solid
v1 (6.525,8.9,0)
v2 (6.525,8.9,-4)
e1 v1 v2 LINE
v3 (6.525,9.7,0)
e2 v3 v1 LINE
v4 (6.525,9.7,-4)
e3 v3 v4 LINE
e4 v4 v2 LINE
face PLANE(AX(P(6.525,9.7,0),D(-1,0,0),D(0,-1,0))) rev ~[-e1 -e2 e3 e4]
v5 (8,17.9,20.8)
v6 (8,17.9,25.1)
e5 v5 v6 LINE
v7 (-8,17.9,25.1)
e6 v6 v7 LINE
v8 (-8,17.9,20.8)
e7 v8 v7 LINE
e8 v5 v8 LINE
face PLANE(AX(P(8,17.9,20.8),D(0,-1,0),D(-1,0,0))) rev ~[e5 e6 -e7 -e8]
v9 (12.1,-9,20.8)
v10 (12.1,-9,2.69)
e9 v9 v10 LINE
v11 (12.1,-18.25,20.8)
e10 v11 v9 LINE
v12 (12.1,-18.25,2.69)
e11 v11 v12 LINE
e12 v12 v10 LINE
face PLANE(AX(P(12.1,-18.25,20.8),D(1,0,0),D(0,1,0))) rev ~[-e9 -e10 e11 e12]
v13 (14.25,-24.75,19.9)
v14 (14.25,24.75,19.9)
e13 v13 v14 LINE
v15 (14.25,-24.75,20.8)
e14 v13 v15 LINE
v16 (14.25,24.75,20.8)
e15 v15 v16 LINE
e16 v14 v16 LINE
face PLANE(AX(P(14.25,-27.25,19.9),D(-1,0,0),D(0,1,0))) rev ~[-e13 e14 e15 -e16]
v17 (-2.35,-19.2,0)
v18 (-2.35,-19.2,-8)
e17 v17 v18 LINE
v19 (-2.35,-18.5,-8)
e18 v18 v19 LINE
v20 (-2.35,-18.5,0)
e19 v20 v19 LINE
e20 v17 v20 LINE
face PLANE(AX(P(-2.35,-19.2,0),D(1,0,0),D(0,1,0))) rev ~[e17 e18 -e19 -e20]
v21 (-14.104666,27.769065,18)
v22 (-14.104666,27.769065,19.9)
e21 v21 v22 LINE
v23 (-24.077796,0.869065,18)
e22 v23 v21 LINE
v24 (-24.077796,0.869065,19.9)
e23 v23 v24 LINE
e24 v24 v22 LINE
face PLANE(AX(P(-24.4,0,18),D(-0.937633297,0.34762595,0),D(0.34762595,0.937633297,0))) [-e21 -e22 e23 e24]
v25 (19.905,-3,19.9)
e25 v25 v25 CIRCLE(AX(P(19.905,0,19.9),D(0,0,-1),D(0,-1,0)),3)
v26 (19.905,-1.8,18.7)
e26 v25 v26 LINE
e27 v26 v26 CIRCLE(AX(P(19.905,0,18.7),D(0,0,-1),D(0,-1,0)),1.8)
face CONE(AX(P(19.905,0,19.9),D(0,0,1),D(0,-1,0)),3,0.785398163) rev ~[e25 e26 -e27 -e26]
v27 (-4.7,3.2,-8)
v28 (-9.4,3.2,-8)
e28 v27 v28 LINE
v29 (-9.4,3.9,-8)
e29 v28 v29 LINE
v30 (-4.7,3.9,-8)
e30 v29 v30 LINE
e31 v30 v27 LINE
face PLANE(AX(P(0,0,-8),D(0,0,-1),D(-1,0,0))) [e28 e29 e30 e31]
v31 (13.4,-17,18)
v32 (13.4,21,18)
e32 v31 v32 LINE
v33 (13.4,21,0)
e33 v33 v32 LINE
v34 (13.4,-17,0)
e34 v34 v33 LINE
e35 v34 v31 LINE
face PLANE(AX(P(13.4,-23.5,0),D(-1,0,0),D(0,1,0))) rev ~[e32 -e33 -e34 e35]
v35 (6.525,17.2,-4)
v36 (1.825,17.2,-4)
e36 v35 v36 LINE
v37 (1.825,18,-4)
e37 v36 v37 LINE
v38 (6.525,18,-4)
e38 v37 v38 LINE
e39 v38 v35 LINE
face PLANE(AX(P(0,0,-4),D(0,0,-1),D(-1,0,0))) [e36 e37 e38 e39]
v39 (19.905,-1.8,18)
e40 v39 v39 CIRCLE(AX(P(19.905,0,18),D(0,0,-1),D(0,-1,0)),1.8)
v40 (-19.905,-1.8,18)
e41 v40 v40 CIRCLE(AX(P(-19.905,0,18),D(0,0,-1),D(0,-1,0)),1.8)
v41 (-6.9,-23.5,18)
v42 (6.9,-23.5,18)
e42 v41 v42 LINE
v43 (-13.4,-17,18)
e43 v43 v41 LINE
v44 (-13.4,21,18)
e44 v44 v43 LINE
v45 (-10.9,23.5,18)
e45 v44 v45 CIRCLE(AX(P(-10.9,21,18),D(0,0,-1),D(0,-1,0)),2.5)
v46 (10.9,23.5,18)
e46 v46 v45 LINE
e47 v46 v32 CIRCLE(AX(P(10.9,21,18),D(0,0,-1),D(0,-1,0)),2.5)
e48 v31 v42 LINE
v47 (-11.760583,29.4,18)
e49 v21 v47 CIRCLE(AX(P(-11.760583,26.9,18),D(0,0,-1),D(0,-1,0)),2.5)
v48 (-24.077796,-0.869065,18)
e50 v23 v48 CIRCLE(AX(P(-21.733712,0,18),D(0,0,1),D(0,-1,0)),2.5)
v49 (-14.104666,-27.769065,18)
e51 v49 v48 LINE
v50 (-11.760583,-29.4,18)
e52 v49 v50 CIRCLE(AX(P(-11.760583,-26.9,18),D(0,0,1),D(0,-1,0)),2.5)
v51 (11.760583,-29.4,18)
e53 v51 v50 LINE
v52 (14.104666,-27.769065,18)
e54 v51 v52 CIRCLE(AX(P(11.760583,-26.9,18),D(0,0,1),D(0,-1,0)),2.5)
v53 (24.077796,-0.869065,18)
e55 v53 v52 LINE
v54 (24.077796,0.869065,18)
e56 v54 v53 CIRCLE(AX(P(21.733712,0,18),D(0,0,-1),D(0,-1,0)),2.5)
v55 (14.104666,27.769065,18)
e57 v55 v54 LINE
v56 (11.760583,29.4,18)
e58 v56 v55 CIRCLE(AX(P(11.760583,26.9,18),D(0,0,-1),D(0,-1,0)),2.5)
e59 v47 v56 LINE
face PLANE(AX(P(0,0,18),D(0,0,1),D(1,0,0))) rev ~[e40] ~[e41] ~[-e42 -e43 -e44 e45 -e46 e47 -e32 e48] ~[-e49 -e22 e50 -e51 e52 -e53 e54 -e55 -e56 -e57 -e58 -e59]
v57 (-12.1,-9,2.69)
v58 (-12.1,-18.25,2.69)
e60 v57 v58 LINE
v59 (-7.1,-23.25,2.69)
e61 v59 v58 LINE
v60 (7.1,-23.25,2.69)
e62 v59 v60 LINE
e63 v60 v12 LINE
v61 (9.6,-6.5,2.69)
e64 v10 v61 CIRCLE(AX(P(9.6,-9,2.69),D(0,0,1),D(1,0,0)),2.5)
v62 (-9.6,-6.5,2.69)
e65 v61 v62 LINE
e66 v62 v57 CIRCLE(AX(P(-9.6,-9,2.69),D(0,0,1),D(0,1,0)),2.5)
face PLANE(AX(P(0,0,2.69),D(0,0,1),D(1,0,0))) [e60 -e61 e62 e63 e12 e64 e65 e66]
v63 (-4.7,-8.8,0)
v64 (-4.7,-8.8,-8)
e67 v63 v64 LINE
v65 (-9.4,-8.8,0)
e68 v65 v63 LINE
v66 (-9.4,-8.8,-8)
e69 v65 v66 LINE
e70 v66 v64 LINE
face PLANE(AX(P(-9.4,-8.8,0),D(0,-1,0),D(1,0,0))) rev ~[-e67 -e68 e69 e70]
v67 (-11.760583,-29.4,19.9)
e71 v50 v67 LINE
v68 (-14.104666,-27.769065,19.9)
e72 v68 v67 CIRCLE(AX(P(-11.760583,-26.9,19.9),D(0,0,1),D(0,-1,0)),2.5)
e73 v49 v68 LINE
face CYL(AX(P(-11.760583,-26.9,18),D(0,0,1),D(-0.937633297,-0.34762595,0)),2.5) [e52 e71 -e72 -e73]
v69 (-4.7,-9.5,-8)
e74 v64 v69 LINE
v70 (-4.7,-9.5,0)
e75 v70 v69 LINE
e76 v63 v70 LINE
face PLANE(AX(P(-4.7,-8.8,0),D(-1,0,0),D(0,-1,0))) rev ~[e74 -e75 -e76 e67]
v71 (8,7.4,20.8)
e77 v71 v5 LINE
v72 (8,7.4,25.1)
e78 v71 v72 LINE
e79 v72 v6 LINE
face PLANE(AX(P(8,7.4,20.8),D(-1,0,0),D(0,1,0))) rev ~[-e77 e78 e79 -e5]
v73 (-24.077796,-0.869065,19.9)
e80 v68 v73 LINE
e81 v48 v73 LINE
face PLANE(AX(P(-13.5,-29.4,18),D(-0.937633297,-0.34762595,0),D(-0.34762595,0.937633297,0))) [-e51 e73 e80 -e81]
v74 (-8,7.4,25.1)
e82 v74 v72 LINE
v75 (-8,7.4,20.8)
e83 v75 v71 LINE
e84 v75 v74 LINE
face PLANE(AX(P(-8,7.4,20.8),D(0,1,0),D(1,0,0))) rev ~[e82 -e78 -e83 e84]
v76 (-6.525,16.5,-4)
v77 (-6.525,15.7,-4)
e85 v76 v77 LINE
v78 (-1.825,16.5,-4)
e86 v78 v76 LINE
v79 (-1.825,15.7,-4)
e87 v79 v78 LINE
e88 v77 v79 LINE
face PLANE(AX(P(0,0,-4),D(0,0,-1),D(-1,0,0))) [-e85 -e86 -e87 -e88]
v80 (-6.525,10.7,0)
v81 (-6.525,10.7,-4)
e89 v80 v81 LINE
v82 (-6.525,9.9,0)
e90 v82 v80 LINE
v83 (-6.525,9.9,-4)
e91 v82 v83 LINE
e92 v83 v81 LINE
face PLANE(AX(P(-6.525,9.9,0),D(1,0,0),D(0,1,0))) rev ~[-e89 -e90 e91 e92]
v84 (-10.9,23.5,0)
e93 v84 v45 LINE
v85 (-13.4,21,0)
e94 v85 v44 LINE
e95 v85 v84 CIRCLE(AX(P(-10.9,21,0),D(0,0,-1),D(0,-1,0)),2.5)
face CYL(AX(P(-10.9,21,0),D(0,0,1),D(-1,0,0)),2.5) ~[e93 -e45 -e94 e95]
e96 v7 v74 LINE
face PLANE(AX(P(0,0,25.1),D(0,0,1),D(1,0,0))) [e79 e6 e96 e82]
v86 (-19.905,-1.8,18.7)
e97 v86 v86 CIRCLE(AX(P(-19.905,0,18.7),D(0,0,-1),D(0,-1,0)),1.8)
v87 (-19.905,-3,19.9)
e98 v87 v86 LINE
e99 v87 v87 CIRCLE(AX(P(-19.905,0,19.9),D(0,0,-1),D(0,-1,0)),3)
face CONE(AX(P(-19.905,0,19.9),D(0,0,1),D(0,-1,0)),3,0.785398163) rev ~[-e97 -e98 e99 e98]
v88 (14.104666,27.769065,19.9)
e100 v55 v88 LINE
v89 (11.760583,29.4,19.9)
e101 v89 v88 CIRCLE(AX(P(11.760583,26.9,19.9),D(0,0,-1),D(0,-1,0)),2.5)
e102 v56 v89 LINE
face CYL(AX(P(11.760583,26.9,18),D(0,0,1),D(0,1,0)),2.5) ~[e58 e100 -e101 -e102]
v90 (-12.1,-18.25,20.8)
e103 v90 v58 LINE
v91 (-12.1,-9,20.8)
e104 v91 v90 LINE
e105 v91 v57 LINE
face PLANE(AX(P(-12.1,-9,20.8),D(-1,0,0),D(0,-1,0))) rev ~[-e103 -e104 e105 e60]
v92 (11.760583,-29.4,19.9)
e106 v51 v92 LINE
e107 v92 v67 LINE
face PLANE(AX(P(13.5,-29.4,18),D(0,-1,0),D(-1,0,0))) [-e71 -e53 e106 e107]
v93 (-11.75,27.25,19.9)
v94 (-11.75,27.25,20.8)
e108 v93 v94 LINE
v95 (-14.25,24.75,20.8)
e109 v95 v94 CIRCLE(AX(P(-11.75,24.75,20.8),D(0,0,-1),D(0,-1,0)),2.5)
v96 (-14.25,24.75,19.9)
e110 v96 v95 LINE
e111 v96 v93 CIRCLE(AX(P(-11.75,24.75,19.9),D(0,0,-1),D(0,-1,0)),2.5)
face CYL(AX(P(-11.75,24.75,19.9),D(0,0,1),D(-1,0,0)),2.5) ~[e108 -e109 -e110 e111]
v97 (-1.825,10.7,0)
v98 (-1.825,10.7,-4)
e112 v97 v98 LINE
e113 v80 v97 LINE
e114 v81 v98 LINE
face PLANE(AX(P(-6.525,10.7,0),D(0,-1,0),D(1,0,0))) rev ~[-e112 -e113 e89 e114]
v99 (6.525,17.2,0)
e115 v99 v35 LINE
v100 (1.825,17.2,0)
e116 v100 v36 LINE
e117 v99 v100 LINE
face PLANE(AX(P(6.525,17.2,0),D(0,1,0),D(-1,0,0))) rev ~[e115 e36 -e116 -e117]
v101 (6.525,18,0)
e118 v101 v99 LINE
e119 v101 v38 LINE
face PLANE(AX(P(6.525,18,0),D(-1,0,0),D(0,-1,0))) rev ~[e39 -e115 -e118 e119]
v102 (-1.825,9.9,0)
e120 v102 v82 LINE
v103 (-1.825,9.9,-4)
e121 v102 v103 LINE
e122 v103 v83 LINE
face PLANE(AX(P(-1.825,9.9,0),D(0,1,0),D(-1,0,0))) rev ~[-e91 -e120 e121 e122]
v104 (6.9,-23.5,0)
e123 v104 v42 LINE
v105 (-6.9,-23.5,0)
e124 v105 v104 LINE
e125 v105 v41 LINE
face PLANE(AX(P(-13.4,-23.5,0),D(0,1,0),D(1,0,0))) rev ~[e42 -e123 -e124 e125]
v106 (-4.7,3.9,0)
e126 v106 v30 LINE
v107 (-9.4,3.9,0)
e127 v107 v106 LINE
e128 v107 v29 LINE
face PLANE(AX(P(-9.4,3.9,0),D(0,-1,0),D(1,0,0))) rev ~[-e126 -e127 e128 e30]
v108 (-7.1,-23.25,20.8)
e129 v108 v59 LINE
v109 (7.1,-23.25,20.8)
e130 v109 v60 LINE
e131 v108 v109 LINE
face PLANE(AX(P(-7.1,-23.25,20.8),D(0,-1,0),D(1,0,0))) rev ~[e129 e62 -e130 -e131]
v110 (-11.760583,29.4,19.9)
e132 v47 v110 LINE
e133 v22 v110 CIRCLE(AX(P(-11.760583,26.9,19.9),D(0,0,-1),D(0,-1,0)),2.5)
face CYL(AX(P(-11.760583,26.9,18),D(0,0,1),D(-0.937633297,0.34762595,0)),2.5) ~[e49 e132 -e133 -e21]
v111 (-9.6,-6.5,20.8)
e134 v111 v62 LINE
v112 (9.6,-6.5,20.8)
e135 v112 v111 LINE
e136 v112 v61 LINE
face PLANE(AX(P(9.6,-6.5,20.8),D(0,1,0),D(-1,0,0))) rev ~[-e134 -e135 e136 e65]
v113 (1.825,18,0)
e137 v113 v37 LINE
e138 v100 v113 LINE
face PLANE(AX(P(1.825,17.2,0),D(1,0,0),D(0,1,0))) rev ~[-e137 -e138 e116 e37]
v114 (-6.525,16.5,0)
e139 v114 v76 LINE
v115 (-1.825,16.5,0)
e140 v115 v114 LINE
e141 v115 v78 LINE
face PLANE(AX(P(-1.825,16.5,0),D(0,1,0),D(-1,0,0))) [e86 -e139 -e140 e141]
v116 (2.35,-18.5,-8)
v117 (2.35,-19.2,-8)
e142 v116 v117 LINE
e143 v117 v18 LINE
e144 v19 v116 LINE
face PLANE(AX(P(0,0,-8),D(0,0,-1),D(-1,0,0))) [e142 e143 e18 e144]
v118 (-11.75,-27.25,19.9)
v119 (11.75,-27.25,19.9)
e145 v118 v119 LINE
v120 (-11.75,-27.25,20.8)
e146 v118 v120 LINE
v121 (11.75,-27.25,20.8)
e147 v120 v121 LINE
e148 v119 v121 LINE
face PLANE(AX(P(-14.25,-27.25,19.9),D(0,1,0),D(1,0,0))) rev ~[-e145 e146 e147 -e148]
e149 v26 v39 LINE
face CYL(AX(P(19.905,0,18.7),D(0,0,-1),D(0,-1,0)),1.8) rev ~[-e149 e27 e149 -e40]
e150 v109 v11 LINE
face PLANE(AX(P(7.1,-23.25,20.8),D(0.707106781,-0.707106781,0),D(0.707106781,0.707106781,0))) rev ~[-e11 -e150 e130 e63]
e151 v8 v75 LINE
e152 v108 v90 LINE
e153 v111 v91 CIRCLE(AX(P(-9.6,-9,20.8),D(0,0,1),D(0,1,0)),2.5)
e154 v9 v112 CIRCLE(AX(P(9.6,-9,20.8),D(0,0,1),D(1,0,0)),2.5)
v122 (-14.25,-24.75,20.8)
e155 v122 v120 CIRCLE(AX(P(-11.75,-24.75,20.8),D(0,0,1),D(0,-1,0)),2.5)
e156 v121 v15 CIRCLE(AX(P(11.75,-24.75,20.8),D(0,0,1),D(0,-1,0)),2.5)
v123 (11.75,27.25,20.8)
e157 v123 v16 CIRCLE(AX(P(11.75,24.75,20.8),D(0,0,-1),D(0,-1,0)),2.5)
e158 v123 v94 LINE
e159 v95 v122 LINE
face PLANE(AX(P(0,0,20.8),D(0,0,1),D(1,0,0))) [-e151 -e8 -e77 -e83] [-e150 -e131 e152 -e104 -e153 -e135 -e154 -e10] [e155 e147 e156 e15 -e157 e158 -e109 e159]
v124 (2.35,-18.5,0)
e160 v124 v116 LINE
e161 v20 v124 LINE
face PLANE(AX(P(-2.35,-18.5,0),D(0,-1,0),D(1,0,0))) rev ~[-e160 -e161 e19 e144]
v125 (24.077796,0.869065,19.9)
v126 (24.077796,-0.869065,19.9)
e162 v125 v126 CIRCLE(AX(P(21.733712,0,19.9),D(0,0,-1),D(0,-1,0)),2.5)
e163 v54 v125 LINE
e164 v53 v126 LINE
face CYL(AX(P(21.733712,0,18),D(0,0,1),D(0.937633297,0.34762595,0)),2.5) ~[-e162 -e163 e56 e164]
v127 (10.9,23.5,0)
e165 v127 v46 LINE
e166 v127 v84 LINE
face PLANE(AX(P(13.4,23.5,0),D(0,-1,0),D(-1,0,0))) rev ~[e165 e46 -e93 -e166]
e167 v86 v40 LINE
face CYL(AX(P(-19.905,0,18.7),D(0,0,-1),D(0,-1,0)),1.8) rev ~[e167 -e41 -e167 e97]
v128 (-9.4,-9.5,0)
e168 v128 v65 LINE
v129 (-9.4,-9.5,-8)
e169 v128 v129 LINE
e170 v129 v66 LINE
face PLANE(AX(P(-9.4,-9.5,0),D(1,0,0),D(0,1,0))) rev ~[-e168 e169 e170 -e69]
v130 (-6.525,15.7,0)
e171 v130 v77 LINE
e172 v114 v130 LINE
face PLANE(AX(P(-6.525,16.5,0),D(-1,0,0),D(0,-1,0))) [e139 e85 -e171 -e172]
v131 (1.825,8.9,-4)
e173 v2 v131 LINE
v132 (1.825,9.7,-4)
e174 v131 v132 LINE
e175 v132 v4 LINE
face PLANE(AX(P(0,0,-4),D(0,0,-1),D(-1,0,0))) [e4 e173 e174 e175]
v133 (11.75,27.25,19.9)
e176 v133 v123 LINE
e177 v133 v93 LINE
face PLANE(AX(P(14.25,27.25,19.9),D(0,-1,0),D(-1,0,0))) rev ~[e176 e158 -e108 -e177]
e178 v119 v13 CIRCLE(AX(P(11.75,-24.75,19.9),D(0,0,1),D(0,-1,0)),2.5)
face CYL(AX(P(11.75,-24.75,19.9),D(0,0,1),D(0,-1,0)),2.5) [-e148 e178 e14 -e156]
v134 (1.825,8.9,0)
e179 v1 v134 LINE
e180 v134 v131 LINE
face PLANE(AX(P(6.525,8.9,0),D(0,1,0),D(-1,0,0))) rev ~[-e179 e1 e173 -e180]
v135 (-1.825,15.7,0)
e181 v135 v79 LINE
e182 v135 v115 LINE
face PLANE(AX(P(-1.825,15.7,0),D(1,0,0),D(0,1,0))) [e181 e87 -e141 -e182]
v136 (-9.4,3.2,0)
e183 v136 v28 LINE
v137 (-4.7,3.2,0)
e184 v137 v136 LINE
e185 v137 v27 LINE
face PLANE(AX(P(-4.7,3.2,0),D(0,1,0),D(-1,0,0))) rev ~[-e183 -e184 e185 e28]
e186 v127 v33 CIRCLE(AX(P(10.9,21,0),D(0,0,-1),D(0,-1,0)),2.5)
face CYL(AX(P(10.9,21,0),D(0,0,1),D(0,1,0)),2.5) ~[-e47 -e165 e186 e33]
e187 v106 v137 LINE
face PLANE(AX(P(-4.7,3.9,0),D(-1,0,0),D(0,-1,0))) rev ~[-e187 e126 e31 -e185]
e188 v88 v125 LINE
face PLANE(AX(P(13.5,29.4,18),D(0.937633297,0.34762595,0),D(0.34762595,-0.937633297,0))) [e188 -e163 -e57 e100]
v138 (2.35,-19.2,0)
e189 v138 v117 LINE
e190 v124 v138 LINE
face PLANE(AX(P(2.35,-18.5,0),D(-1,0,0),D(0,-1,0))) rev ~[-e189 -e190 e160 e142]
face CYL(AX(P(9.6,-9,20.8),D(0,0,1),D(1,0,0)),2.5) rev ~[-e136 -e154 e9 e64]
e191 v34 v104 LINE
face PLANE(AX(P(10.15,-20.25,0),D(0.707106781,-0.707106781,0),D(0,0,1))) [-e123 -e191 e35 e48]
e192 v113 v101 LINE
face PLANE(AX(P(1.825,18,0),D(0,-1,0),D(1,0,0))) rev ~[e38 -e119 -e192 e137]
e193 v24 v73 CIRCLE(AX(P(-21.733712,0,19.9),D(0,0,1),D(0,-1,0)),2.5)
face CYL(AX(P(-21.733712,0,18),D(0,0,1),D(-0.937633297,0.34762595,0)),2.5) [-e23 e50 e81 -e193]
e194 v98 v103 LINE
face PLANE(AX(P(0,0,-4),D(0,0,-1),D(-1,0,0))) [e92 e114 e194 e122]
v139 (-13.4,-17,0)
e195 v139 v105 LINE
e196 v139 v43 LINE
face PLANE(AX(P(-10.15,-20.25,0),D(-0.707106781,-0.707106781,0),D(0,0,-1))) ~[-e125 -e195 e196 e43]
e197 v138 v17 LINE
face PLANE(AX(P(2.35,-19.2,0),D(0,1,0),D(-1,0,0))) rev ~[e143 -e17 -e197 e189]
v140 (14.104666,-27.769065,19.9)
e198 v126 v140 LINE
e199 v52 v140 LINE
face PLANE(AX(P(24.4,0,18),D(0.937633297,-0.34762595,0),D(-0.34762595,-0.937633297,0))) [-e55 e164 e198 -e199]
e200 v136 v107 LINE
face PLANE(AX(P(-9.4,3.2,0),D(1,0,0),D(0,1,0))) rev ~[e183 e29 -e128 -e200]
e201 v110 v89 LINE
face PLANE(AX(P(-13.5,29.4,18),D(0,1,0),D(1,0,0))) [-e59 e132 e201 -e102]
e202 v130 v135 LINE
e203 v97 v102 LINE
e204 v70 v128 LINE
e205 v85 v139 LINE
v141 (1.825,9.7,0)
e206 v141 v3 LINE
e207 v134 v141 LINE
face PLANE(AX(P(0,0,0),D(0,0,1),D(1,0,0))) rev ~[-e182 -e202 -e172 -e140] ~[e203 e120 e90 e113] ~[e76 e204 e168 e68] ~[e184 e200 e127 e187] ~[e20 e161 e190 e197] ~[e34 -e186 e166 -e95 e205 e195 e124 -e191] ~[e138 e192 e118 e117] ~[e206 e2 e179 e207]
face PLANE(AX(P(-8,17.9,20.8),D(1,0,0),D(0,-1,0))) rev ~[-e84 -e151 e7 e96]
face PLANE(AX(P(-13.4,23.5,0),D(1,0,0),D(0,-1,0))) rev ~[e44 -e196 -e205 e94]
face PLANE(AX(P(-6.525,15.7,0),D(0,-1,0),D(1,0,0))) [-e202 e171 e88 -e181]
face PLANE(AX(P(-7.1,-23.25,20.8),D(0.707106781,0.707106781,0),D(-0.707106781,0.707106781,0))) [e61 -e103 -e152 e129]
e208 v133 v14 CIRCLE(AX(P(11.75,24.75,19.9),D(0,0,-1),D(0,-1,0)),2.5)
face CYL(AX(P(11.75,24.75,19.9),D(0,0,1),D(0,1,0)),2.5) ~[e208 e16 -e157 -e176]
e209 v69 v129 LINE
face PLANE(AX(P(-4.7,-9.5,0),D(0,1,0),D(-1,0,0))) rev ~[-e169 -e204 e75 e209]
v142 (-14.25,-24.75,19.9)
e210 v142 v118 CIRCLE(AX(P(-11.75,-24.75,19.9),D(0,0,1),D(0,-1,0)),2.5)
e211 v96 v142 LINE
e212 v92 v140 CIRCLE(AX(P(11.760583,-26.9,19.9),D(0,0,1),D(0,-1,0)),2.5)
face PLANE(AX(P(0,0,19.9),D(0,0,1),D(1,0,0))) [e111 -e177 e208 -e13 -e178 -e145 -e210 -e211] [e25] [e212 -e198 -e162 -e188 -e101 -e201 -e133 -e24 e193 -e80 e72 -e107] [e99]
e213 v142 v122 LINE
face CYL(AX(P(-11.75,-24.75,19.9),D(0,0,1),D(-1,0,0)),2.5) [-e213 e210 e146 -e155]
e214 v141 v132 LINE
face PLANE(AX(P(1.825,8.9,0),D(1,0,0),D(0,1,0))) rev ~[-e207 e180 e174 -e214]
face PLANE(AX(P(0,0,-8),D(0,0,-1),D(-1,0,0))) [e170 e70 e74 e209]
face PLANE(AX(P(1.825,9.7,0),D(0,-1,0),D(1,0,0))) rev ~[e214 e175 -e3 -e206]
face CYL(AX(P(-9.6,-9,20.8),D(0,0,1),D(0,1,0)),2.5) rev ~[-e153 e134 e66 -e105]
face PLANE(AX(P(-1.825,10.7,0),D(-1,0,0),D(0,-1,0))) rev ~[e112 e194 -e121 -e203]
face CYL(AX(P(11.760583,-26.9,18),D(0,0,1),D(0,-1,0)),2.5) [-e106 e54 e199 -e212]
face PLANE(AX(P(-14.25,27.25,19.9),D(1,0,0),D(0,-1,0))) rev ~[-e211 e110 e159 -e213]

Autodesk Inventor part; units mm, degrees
ref_plane "YZ Plane" through (0, 0, 0) normal (1, 0, 0) x (0, 1, 0)
ref_plane "XZ Plane" through (0, 0, 0) normal (0, 1, 0) x (-1, 0, 0)
ref_plane "XY Plane" through (0, 0, 0) normal (0, 0, 1) x (1, 0, 0)
sketch "Esquisse1" plane through (0, 0, 0) normal (0, 0, 1) x (1, 0, 0)
  line L0 (-13.4, -23.5) -> (13.4, -23.5)
  line L1 (13.4, -23.5) -> (13.4, 23.5)
  line L2 (13.4, 23.5) -> (-13.4, 23.5)
  line L3 (-13.4, 23.5) -> (-13.4, -23.5)
  line L4 (-13.4, -23.5) -> (13.4, 23.5) construction
  line L5 (13.4, -23.5) -> (-13.4, 23.5) construction
  point P0 (0, 0)
  dimension "d0" = 26.8
  dimension "d1" = 47
extrude "Extrusion1" add sketch "Esquisse1" along normal blind 18
chamfer "Chanfrein1" distance 6.5 angle 45 2 edges at (-13.4, -23.5, 9) (13.4, -23.5, 9)
sketch "Esquisse2" plane through (0, 0, 18) normal (0, 0, 1) x (1, 0, 0)
  line L0 (-24.4, 0) -> (-13.5, 29.4)
  line L1 (-13.5, 29.4) -> (13.5, 29.4)
  line L2 (13.5, 29.4) -> (24.4, 0)
  line L3 (24.4, 0) -> (13.5, -29.4)
  line L4 (13.5, -29.4) -> (-13.5, -29.4)
  line L5 (-13.5, -29.4) -> (-24.4, 0)
  point P0 (0, 0)
  point P1 (0, 29.4)
  point P2 (0, -29.4)
  dimension "d7" = 58.8
  dimension "d8" = 29.4
  dimension "d9" = 48.8
  dimension "d10" = 24.4
  dimension "d11" = 27
  dimension "d12" = 27
extrude "Extrusion2" add sketch "Esquisse2" along normal blind 1.9
sketch "Esquisse3" plane through (0, 0, 19.9) normal (0, 0, 1) x (1, 0, 0)
  line L0 (-14.25, -27.25) -> (14.25, -27.25)
  line L1 (14.25, -27.25) -> (14.25, 27.25)
  line L2 (14.25, 27.25) -> (-14.25, 27.25)
  line L3 (-14.25, 27.25) -> (-14.25, -27.25)
  point P0 (0, 0)
  point P1 (-14.25, 0)
  point P2 (0, 27.25)
  dimension "d15" = 28.5
  dimension "d16" = 54.5
extrude "Extrusion3" add sketch "Esquisse3" along normal blind 0.9
sketch "Esquisse4" plane through (0, 0, 20.8) normal (0, 0, 1) x (1, 0, 0)
  line L0 (-7.1, -23.25) -> (7.1, -23.25)
  line L1 (12.1, -18.25) -> (12.1, -9)
  line L2 (9.6, -6.5) -> (-9.6, -6.5)
  line L3 (-12.1, -9) -> (-12.1, -18.25)
  line L4 (-14.25, -27.25) -> (14.25, -27.25) projected
  line L5 (-7.1, -23.25) -> (-12.1, -18.25)
  line L6 (7.1, -23.25) -> (12.1, -18.25)
  arc A0 (-9.6, -6.5) -> (-12.1, -9) centre (-9.6, -9) ccw
  arc A1 (12.1, -9) -> (9.6, -6.5) centre (9.6, -9) ccw
  point P0 (0, 0)
  point P1 (-12.1, -23.25)
  point P2 (12.1, -23.25)
  point P3 (-12.1, -6.5)
  point P4 (0, -6.5)
  dimension "d19" = 24.2
  dimension "d20" = 16.75
  dimension "d21" = 4
  dimension "d22" = 5
  dimension "d23" = 5
  dimension "d24" = 5
  dimension "d25" = 5
  dimension "d26" = 2.5
extrude "Extrusion4" cut sketch "Esquisse4" against normal blind 18.11
sketch "Esquisse5" plane through (0, 0, 20.8) normal (0, 0, 1) x (1, 0, 0)
  line L0 (-8, 7.4) -> (8, 7.4)
  line L1 (8, 7.4) -> (8, 17.9)
  line L2 (8, 17.9) -> (-8, 17.9)
  line L3 (-8, 17.9) -> (-8, 7.4)
  line L4 (14.25, 27.25) -> (-14.25, 27.25) projected
  point P0 (0, 0)
  point P1 (0, 7.4)
  dimension "d29" = 16
  dimension "d30" = 10.5
  dimension "d31" = 9.35
extrude "Extrusion5" add sketch "Esquisse5" along normal blind 4.3
sketch "Esquisse6" plane through (0, 0, 0) normal (0, 0, -1) x (-1, 0, 0)
  line L0 (-2.35, -19.2) -> (2.35, -19.2)
  line L1 (2.35, -19.2) -> (2.35, -18.5)
  line L2 (2.35, -18.5) -> (-2.35, -18.5)
  line L3 (-2.35, -18.5) -> (-2.35, -19.2)
  line L4 (4.7, -9.5) -> (9.4, -9.5)
  line L5 (9.4, -9.5) -> (9.4, -8.8)
  line L6 (9.4, -8.8) -> (4.7, -8.8)
  line L7 (4.7, -8.8) -> (4.7, -9.5)
  line L8 (4.7, 3.2) -> (9.4, 3.2)
  line L9 (9.4, 3.2) -> (9.4, 3.9)
  line L10 (9.4, 3.9) -> (4.7, 3.9)
  line L11 (4.7, 3.9) -> (4.7, 3.2)
  line L12 (6.9, -23.5) -> (-6.9, -23.5) projected
  line L13 (13.4, 23.5) -> (13.4, -17) projected
  point P0 (0, 0)
  point P1 (0, -19.2)
  dimension "d34" = 4.7
  dimension "d35" = 0.7
  dimension "d38" = 0.7
  dimension "d40" = 0.7
  dimension "d41" = 4.3
  dimension "d42" = 14
  dimension "d43" = 12
  dimension "d44" = 4
  dimension "d45" = 4.7
extrude "Extrusion6" add sketch "Esquisse6" along normal blind 8
sketch "Esquisse7" plane through (0, 0, 0) normal (0, 0, -1) x (-1, 0, 0)
  line L0 (-6.525, 17.2) -> (-1.825, 17.2)
  line L1 (-1.825, 17.2) -> (-1.825, 18)
  line L2 (-1.825, 18) -> (-6.525, 18)
  line L3 (-6.525, 18) -> (-6.525, 17.2)
  line L4 (-6.525, 8.9) -> (-1.825, 8.9)
  line L5 (-1.825, 8.9) -> (-1.825, 9.7)
  line L6 (-1.825, 9.7) -> (-6.525, 9.7)
  line L7 (-6.525, 9.7) -> (-6.525, 8.9)
  line L8 (1.825, 16.5) -> (6.525, 16.5)
  line L9 (6.525, 16.5) -> (6.525, 15.7)
  line L10 (6.525, 15.7) -> (1.825, 15.7)
  line L11 (1.825, 15.7) -> (1.825, 16.5)
  line L12 (1.825, 9.9) -> (6.525, 9.9)
  line L13 (6.525, 9.9) -> (6.525, 10.7)
  line L14 (6.525, 10.7) -> (1.825, 10.7)
  line L15 (1.825, 10.7) -> (1.825, 9.9)
  line L16 (-13.4, 23.5) -> (13.4, 23.5) projected
  point P0 (0, 0)
  dimension "d48" = 4.7
  dimension "d49" = 4.7
  dimension "d50" = 0.8
  dimension "d51" = 0.8
  dimension "d52" = 0.8
  dimension "d53" = 0.8
  dimension "d54" = 7.5
  dimension "d55" = 5
  dimension "d56" = 3.65
  dimension "d57" = 1.825
  dimension "d58" = 5.5
  dimension "d60" = 1.5
extrude "Extrusion7" add sketch "Esquisse7" along normal blind 4
sketch "Esquisse8" plane through (0, 0, 19.9) normal (0, 0, 1) x (1, 0, 0)
  point P0 (0, 0)
  point P1 (-19.905, 0)
  point P2 (19.905, 0)
  dimension "d63" = 39.81
  dimension "d64" = 19.905
hole "Perçage1" at (-19.905, 0, 19.9) at (19.905, 0, 19.9) direction (0, 0, -1) diameter 3.6 end through all countersink diameter 6 countersink angle 90
fillet "Congé1" radius 2.5 12 edges at (-13.5, 29.4, 18.95) (-13.5, -29.4, 18.95) (13.5, -29.4, 18.95) (13.5, 29.4, 18.95) (24.4, 0, 18.95) (-24.4, 0, 18.95) (-14.25, 27.25, 20.35) (14.25, 27.25, 20.35) (-14.25, -27.25, 20.35) (14.25, -27.25, 20.35) (13.4, 23.5, 9) (-13.4, 23.5, 9)
equation "\"d8\" = 0.5 * d7"
equation "\"d10\" = 0.5 * d9"
equation "\"d12\" = d11"
equation "\"d23\" = d22"
equation "\"d24\" = d22"
equation "\"d25\" = d24"
equation "\"d38\" = d35"
equation "\"d40\" = d35"
equation "\"d45\" = d34"
equation "\"d49\" = d48"
equation "\"d51\" = d50"
equation "\"d52\" = d51"
equation "\"d53\" = d52"
equation "\"d57\" = 0.5 * d56"
equation "\"d64\" = 0.5 * d63"
equation "\"pi\" = 3.141593"
equation "\"nombredor\" = 1.61803"
properties part number "Plug+prise" material "Plastique ABS"
